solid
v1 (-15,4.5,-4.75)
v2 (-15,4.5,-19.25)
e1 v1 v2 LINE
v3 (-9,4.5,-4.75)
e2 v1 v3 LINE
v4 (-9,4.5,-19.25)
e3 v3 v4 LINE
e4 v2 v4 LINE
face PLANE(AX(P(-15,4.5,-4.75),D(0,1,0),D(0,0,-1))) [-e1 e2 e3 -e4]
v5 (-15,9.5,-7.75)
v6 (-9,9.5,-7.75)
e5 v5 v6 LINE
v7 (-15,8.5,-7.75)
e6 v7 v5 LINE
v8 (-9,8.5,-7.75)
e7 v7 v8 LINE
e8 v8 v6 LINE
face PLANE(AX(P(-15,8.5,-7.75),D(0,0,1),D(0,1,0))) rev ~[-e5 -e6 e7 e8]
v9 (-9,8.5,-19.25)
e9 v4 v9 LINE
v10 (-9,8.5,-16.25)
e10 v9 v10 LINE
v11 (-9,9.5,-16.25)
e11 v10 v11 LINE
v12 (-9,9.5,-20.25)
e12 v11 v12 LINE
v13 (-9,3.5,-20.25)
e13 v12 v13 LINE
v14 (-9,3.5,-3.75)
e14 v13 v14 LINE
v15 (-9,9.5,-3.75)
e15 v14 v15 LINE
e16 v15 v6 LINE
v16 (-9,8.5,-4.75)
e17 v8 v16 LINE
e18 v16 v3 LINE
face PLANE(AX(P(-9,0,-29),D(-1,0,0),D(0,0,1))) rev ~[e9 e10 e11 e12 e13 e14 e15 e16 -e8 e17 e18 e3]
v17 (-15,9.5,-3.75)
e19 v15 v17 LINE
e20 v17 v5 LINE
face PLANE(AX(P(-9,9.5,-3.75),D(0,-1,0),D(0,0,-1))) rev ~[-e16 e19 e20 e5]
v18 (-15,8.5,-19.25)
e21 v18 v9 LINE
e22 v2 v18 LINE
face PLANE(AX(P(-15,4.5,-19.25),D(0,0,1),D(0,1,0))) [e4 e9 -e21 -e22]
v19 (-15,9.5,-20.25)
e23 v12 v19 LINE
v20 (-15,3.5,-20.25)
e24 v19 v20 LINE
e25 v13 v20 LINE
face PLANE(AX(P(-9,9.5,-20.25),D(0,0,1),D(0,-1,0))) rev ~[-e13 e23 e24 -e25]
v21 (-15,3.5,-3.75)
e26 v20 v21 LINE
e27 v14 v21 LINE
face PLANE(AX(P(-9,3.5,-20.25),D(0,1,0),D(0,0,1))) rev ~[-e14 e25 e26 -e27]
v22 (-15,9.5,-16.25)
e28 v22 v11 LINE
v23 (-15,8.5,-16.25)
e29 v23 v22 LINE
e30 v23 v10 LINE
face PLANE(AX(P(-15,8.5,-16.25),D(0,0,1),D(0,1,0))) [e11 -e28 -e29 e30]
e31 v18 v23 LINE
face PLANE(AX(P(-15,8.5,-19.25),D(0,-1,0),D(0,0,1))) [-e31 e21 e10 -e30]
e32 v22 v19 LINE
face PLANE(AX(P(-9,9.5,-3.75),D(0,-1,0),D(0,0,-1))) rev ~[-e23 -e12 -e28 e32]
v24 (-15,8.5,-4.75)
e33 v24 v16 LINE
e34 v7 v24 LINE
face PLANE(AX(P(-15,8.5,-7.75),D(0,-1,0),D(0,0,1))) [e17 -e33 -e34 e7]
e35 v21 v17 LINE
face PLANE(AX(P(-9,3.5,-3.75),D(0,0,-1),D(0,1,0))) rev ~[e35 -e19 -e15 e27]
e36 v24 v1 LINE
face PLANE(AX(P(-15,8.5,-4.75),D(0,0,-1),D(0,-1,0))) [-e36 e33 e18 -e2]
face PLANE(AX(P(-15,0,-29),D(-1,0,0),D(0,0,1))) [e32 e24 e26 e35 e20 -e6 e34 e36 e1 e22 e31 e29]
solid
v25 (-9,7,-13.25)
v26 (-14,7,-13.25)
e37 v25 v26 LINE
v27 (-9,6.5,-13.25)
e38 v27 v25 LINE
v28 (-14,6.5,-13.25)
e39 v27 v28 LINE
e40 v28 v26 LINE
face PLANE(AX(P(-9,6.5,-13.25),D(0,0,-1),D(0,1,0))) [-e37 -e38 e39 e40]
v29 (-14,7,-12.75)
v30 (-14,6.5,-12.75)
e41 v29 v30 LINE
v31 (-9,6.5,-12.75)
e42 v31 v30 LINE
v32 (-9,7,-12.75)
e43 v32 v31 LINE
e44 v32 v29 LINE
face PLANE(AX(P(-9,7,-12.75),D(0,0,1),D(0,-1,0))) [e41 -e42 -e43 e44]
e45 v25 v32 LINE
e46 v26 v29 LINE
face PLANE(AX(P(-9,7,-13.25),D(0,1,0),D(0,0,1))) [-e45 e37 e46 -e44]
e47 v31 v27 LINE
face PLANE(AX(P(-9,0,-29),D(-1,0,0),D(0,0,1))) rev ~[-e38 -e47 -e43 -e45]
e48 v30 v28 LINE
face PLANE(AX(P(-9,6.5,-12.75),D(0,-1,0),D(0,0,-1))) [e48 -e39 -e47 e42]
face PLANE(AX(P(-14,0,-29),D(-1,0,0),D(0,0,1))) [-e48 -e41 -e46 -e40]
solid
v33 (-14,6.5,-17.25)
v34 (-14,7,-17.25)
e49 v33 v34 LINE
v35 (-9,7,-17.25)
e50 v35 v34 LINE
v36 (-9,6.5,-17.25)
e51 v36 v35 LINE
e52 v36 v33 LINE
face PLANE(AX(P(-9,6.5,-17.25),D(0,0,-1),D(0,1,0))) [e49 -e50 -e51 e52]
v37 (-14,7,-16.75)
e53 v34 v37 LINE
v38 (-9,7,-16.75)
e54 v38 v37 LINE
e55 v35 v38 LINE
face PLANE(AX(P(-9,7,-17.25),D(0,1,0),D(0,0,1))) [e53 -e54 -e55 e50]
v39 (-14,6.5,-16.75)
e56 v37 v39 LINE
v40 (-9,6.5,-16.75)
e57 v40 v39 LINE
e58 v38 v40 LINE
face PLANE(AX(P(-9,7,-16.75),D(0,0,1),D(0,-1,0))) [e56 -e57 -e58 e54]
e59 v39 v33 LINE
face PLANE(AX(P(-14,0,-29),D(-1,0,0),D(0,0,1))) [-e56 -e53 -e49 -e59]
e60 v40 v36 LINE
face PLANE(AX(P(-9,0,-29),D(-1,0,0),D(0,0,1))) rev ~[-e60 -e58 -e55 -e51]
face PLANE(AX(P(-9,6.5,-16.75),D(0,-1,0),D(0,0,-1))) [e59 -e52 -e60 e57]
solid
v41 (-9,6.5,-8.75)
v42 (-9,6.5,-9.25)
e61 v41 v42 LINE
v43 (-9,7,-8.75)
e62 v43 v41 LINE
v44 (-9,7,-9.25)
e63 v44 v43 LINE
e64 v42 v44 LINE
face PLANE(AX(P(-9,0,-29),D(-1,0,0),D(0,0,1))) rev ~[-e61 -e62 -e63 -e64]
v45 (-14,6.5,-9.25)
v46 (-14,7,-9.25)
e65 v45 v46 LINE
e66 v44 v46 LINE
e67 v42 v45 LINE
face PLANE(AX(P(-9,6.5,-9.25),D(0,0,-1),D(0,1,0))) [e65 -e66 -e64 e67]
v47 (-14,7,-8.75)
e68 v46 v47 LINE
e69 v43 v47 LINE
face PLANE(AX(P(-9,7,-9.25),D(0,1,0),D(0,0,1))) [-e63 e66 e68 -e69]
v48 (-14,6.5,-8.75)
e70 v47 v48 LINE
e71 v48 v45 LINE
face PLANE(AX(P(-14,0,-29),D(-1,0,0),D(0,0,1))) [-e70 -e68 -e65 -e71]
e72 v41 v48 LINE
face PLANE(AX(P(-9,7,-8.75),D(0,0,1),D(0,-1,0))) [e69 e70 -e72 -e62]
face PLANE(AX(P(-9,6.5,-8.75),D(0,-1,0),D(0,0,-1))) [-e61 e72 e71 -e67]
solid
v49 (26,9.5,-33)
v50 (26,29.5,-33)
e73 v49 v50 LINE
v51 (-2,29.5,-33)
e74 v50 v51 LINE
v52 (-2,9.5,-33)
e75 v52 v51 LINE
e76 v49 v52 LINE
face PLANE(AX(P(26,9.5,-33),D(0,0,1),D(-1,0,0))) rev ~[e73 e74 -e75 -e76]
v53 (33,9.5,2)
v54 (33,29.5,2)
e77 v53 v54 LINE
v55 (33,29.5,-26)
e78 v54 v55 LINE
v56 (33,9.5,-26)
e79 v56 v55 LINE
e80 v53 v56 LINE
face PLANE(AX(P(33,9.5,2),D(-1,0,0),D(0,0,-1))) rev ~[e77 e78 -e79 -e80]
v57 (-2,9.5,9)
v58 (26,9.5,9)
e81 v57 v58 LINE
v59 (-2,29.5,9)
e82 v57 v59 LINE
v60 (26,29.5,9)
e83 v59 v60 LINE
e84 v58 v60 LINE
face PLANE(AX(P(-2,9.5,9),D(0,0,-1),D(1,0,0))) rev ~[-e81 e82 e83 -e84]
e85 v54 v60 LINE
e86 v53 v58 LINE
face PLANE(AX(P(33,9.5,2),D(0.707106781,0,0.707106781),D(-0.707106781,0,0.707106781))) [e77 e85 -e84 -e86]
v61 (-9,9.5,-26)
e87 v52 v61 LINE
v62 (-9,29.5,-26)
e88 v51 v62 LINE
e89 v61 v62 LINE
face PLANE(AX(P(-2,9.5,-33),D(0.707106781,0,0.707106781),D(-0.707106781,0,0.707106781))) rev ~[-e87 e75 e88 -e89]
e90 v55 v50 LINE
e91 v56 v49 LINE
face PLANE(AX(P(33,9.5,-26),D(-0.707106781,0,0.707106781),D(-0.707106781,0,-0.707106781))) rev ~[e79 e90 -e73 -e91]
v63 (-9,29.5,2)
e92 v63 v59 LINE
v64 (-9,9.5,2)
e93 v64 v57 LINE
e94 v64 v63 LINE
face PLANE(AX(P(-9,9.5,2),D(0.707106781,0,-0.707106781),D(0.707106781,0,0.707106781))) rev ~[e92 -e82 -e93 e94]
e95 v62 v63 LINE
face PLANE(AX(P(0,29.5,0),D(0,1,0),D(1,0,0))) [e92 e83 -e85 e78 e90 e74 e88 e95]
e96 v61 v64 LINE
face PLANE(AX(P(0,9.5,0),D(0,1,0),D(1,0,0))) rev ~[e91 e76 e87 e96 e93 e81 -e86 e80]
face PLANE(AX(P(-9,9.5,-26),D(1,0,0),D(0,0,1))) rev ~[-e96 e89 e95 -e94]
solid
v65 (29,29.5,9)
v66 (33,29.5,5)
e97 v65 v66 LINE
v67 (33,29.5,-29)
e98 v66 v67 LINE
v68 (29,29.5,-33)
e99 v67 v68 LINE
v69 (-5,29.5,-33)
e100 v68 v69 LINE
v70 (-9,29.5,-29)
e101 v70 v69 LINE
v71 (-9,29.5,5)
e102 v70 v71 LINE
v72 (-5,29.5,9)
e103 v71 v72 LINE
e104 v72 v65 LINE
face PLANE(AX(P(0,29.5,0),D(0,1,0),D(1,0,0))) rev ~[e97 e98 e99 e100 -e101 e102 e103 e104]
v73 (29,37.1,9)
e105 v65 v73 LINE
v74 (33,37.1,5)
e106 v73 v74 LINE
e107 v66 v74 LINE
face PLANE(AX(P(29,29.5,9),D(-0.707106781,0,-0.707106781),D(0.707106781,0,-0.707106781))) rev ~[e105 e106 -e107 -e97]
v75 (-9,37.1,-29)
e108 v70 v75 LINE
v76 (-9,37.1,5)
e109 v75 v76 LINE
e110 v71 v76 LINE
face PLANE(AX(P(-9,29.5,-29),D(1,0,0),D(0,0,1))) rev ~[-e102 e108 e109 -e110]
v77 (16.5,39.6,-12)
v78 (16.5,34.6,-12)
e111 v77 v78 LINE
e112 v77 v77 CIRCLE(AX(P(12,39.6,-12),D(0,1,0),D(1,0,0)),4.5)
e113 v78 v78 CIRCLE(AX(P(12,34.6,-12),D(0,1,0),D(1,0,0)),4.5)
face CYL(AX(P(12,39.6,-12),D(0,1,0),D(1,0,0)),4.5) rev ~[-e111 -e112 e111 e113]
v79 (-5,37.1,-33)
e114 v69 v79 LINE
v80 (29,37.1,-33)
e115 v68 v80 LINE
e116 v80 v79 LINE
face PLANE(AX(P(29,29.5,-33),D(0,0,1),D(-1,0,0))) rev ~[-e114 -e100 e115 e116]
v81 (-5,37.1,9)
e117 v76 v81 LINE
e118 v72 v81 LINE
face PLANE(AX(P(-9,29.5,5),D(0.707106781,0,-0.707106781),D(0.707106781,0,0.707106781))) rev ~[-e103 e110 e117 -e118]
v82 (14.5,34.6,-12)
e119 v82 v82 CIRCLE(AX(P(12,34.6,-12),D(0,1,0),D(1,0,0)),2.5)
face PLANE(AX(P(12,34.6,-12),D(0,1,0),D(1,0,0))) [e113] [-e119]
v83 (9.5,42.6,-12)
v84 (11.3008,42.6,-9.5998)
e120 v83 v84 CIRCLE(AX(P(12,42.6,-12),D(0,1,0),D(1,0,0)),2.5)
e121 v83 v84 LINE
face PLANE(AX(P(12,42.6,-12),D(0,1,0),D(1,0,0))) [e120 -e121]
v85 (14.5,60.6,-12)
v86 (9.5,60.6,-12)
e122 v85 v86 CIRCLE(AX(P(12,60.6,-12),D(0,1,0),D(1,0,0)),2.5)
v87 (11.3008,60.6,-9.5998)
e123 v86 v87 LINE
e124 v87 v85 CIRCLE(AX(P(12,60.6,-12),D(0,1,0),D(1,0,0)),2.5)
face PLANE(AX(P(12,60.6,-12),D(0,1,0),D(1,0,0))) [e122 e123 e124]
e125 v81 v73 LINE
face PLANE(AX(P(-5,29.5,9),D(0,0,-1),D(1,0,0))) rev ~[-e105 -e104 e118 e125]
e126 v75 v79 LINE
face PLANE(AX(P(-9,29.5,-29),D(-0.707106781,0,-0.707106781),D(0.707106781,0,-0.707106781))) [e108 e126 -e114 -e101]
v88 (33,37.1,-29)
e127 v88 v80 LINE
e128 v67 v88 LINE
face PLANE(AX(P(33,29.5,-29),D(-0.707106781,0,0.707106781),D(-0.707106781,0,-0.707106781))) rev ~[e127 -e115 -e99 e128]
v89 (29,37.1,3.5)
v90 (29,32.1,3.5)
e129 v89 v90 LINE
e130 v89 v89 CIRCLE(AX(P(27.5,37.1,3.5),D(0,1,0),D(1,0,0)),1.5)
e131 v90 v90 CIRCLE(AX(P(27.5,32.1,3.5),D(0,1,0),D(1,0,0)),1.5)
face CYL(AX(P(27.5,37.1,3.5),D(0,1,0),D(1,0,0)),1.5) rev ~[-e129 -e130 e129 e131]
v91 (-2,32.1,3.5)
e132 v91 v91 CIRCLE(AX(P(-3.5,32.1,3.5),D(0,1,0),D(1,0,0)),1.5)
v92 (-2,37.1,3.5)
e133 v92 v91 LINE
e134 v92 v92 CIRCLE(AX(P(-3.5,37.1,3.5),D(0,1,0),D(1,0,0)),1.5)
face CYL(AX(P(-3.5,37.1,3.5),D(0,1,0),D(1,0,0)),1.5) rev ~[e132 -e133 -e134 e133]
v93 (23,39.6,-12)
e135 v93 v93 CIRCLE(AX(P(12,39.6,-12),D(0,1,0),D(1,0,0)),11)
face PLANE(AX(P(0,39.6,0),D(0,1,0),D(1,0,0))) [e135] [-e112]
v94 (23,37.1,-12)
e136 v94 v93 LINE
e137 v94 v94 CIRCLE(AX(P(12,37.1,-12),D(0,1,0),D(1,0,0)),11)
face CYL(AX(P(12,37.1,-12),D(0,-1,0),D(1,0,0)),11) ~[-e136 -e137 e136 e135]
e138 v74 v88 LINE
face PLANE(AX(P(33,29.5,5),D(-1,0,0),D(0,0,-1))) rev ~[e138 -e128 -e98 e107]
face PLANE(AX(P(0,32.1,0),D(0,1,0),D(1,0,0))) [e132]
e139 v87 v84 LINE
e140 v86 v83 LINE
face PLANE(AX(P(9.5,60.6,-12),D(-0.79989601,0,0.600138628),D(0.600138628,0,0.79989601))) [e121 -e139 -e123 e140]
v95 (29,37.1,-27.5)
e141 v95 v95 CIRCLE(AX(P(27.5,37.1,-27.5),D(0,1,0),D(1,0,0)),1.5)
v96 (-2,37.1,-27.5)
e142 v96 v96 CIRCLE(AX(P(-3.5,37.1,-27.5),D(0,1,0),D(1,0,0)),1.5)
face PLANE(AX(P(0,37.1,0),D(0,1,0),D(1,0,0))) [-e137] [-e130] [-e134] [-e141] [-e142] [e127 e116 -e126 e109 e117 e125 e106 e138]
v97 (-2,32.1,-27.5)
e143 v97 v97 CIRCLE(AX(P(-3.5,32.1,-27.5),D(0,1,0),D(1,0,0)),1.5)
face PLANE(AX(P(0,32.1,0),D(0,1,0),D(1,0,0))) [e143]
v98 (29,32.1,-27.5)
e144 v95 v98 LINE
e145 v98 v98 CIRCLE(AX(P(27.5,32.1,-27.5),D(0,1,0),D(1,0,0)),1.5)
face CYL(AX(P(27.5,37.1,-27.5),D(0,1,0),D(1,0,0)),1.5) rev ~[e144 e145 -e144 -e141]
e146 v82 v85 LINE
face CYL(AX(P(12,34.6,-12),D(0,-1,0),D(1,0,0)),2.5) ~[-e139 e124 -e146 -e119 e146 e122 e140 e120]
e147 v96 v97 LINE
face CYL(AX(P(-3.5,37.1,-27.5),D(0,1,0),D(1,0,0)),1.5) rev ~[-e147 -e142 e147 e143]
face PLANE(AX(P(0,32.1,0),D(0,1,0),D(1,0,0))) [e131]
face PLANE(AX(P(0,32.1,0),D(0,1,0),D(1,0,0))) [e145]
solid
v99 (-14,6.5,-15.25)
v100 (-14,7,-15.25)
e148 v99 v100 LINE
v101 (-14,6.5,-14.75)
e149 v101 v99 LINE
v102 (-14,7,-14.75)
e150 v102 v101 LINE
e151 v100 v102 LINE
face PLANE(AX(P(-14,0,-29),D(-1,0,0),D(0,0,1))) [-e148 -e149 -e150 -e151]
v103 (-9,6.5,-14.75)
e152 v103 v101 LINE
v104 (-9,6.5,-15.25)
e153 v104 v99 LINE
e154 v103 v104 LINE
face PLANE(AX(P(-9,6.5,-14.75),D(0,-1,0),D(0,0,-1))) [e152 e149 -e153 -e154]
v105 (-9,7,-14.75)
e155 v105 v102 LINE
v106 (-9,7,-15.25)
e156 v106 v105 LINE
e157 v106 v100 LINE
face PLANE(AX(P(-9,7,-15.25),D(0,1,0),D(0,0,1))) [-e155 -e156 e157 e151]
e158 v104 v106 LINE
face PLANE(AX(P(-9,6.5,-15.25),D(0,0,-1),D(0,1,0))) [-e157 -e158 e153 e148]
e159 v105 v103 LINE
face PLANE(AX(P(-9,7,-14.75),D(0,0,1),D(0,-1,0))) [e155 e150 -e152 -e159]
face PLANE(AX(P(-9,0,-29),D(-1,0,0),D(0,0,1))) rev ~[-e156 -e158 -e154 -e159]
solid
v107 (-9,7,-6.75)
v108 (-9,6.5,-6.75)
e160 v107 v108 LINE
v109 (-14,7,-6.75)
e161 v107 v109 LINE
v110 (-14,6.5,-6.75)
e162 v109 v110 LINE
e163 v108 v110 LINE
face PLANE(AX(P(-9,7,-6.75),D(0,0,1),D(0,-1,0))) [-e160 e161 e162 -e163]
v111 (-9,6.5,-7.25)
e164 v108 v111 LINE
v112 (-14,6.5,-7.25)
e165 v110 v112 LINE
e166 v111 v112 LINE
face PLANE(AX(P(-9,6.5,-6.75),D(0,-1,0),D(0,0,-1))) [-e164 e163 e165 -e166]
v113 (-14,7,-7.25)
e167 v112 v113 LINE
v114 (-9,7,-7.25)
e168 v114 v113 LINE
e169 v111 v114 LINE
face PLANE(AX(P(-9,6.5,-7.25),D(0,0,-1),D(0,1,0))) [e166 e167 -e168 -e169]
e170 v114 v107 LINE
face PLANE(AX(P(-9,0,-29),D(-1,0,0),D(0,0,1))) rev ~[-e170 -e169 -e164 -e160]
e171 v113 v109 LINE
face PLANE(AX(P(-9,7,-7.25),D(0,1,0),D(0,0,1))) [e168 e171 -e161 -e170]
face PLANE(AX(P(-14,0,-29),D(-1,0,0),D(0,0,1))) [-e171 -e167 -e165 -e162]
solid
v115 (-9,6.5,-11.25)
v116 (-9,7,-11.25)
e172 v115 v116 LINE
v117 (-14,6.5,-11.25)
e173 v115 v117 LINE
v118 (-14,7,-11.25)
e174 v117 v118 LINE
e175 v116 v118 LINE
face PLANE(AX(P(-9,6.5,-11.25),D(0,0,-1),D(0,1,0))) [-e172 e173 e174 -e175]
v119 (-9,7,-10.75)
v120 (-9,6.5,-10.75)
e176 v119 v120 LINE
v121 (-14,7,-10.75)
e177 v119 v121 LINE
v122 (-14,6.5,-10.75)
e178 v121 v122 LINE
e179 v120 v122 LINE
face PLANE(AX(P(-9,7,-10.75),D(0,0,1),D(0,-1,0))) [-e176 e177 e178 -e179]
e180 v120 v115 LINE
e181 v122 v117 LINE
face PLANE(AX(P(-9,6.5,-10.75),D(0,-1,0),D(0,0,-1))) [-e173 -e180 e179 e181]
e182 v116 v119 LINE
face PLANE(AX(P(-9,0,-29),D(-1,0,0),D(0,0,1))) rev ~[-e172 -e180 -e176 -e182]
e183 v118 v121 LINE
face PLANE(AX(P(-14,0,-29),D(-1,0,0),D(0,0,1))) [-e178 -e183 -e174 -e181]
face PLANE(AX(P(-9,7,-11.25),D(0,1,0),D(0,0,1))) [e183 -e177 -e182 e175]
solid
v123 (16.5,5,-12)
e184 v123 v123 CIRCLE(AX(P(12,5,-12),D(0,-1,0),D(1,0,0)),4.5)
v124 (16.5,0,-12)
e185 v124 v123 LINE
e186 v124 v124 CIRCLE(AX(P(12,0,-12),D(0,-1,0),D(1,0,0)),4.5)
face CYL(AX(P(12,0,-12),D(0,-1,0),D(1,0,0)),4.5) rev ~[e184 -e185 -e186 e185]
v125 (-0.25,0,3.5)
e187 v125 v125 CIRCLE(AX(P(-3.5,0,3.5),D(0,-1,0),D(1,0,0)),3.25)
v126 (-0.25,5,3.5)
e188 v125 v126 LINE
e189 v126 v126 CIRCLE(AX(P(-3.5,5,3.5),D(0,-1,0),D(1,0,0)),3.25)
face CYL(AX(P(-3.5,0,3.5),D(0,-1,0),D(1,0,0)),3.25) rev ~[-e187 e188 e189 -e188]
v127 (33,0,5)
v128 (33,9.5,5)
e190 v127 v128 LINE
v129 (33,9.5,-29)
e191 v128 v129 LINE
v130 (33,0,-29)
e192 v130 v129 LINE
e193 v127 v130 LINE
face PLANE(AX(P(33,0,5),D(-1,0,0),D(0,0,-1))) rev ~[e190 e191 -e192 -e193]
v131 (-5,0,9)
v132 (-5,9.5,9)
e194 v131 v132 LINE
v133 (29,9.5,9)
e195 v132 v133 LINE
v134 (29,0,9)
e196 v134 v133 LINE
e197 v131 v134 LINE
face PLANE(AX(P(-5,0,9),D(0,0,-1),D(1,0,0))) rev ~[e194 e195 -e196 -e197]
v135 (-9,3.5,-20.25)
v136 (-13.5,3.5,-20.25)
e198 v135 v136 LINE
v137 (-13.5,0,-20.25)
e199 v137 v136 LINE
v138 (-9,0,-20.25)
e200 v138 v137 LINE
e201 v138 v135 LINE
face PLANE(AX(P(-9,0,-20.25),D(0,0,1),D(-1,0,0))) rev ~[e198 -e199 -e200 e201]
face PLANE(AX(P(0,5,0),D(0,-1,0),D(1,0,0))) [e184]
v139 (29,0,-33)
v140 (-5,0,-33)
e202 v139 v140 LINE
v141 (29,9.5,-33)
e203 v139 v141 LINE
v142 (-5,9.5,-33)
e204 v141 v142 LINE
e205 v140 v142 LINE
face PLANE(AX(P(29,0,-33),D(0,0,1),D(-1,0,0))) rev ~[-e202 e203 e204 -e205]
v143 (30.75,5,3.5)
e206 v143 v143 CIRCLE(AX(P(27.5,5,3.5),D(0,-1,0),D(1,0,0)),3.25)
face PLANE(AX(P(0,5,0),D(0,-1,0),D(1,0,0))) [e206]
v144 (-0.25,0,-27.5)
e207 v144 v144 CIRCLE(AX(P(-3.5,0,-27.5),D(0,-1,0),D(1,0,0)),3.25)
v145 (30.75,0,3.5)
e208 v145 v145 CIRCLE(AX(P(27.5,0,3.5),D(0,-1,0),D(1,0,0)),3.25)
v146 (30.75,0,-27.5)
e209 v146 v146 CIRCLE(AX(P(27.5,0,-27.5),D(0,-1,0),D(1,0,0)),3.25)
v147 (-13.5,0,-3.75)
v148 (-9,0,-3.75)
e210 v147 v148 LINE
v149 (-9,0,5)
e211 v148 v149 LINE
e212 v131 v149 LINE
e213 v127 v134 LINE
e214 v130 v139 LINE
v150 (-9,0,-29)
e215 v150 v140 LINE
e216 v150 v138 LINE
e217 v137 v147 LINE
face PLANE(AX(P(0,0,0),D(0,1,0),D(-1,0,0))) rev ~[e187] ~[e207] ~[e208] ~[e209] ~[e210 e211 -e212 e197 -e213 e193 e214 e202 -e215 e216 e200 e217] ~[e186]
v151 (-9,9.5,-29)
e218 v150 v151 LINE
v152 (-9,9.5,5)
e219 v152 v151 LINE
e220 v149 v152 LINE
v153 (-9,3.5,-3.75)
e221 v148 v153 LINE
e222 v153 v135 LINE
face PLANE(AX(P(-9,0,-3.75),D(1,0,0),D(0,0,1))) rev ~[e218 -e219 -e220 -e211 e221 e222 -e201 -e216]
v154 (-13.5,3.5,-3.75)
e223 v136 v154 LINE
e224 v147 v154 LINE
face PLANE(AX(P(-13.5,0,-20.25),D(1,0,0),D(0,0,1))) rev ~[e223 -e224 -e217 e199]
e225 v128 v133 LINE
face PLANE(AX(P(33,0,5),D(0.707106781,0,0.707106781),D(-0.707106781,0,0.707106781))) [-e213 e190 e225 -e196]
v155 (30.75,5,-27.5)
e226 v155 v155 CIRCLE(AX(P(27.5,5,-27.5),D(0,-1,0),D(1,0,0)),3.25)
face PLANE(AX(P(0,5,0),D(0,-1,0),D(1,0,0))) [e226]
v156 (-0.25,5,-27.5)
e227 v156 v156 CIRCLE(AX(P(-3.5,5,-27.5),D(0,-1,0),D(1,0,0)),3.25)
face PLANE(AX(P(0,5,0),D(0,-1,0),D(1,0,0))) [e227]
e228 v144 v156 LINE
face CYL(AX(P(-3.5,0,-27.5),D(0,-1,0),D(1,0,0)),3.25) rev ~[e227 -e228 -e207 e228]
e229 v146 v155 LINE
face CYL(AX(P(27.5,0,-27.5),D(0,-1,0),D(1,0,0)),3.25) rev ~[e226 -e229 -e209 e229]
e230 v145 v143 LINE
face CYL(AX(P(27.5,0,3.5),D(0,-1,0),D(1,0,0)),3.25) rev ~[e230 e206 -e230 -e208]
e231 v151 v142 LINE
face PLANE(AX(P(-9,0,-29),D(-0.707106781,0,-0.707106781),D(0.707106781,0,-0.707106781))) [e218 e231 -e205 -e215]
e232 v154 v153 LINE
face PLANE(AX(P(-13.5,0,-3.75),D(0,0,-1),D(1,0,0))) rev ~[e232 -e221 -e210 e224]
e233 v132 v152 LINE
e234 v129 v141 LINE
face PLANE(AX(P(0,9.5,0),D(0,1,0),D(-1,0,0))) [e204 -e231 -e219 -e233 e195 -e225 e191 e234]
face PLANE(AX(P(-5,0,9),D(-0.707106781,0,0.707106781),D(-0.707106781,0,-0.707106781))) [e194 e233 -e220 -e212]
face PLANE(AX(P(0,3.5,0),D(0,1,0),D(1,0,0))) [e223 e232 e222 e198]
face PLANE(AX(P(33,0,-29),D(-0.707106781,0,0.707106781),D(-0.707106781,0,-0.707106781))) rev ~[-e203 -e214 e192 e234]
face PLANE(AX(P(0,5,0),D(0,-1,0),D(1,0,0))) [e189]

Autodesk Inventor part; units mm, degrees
ref_plane "YZ Plane" through (0, 0, 0) normal (1, 0, 0) x (0, 1, 0)
ref_plane "XZ Plane" through (0, 0, 0) normal (0, 1, 0) x (-1, 0, 0)
ref_plane "XY Plane" through (0, 0, 0) normal (0, 0, 1) x (1, 0, 0)
sketch "Эскиз1" plane through (0, 0, 0) normal (0, 1, 0) x (-1, 0, 0)
  line L0 (9, 9) -> (-33, 9)
  line L1 (-33, 9) -> (-33, -33)
  line L2 (-33, -33) -> (9, -33)
  line L3 (9, -33) -> (9, 9)
  line L4 (9, -29) -> (5, -33)
  line L5 (9, 9) -> (-33, -33) construction
  line L6 (9, -33) -> (-33, 9) construction
  line L7 (5, 9) -> (9, 5)
  line L8 (-33, 5) -> (-29, 9)
  line L9 (-33, -29) -> (-29, -33)
  line L10 (13.5, -3.75) -> (9, -3.75)
  line L11 (9, -20.25) -> (13.5, -20.25)
  line L12 (13.5, -20.25) -> (13.5, -3.75)
  point P0 (0, 0)
  dimension "d0" = 42
  dimension "d1" = 42
  dimension "d2" = 4
  dimension "d3" = 4
  dimension "d17" = 12.75
  dimension "d18" = 16.5
  dimension "d19" = 4.5
extrude "Выдавливание1" add sketch "Эскиз1" along normal blind 9.5 contours L7 L3 L4 L2 L9 L1 L8 L0 | L10 L12 L11 L3
sketch "Эскиз2" plane through (0, 0, 0) normal (0, -1, 0) x (1, 0, 0)
  line L0 (-9, -33) -> (33, -33)
  line L1 (33, -33) -> (33, 9)
  line L2 (33, 9) -> (-9, 9)
  line L3 (-9, 9) -> (-9, -33)
  line L4 (-9, -33) -> (33, 9) construction
  line L5 (33, -33) -> (-9, 9) construction
  circle A0 centre (12, -12) radius 4.5
  circle A1 centre (-3.5, -27.5) radius 3.25
  circle A2 centre (-3.5, 3.5) radius 3.25
  circle A3 centre (27.5, 3.5) radius 3.25
  circle A4 centre (27.5, -27.5) radius 3.25
  line L6 (33, 5) -> (33, -29) projected
  line L7 (-5, 9) -> (29, 9) projected
  line L8 (29, -33) -> (-5, -33) projected
  line L9 (-9, -3.75) -> (-9, 5) projected
  point P0 (0, 0)
  dimension "d22" = 9
  dimension "d23" = 6.5
  dimension "d25" = 5.5
  dimension "d28" = 360
extrude "Выдавливание2" cut sketch "Эскиз2" against normal blind 5 contours A0 | A1 | A2 | A3 | A4
sketch "Эскиз3" plane through (0, 9.5, 0) normal (0, 1, 0) x (1, 0, 0)
  line L0 (-13.5, 3.75) -> (-9, 3.75) projected
  line L1 (-13.5, 3.75) -> (-9, 3.75)
  line L2 (-9, 3.75) -> (-9, 20.25)
  line L3 (-9, 20.25) -> (-13.5, 20.25)
  line L4 (-13.5, 20.25) -> (-13.5, 3.75)
  point P0 (0, 0)
extrude "Выдавливание3" cut sketch "Эскиз3" against normal blind 6
sketch "Эскиз4" plane through (-9, 0, -29) normal (-1, 0, 0) x (0, 0, 1)
  line L0 (8.75, 3.5) -> (25.25, 3.5) projected
  line L1 (8.75, 3.5) -> (25.25, 3.5)
  line L2 (25.25, 3.5) -> (25.25, 9.5)
  line L3 (25.25, 9.5) -> (8.75, 9.5)
  line L4 (8.75, 9.5) -> (8.75, 3.5)
  point P0 (29, 0)
  dimension "d34" = 16.5
  dimension "d35" = 6
extrude "Выдавливание4" add sketch "Эскиз4" along normal blind 6 separate body
sketch "Эскиз5" plane through (-15, 0, -29) normal (-1, 0, 0) x (0, 0, 1)
  line L0 (25.25, 9.5) -> (8.75, 9.5) projected
  line L1 (25.25, 3.5) -> (8.75, 3.5) projected
  line L2 (8.75, 9.5) -> (25.25, 9.5)
  line L3 (25.25, 9.5) -> (25.25, 3.5)
  line L4 (25.25, 3.5) -> (8.75, 3.5)
  line L5 (8.75, 3.5) -> (8.75, 9.5)
  line L6 (9.75, 8.5) -> (12.75, 8.5)
  line L7 (24.25, 8.5) -> (24.25, 4.5)
  line L8 (24.25, 4.5) -> (9.75, 4.5)
  line L9 (9.75, 4.5) -> (9.75, 8.5)
  line L10 (12.75, 8.5) -> (12.75, 9.5)
  line L11 (21.25, 8.5) -> (21.25, 9.5)
  line L12 (0, 9.5) -> (34, 9.5) projected
  line L13 (21.25, 8.5) -> (24.25, 8.5)
  point P0 (29, 0)
  dimension "d38" = 1
  dimension "d39" = 4
  dimension "d40" = 4
extrude "Выдавливание5" cut sketch "Эскиз5" against normal blind 6 contours L11 L13 L7 L8 L9 L6 L10 L0 bodies 2
sketch "Эскиз6" plane through (-9, 0, -29) normal (-1, 0, 0) x (0, 0, 1)
  line L0 (11.75, 7) -> (12.25, 7)
  line L1 (12.25, 7) -> (12.25, 6.5)
  line L2 (12.25, 6.5) -> (11.75, 6.5)
  line L3 (11.75, 6.5) -> (11.75, 7)
  line L4 (13.75, 7) -> (14.25, 7)
  line L5 (14.25, 7) -> (14.25, 6.5)
  line L6 (14.25, 6.5) -> (13.75, 6.5)
  line L7 (13.75, 6.5) -> (13.75, 7)
  line L8 (15.75, 7) -> (16.25, 7)
  line L9 (16.25, 7) -> (16.25, 6.5)
  line L10 (16.25, 6.5) -> (15.75, 6.5)
  line L11 (15.75, 6.5) -> (15.75, 7)
  line L12 (17.75, 7) -> (18.25, 7)
  line L13 (18.25, 7) -> (18.25, 6.5)
  line L14 (18.25, 6.5) -> (17.75, 6.5)
  line L15 (17.75, 6.5) -> (17.75, 7)
  line L16 (19.75, 7) -> (20.25, 7)
  line L17 (20.25, 7) -> (20.25, 6.5)
  line L18 (20.25, 6.5) -> (19.75, 6.5)
  line L19 (19.75, 6.5) -> (19.75, 7)
  line L20 (21.75, 7) -> (22.25, 7)
  line L21 (22.25, 7) -> (22.25, 6.5)
  line L22 (22.25, 6.5) -> (21.75, 6.5)
  line L23 (21.75, 6.5) -> (21.75, 7)
  line L24 (8.75, 0) -> (8.75, 3.5) projected
  point P0 (29, 0)
  dimension "d43" = 0.5
  dimension "d44" = 0.5
  dimension "d47" = 2
  dimension "d52" = 3
extrude "Выдавливание6" add sketch "Эскиз6" along normal blind 5 separate body
sketch "Эскиз7" plane through (0, 9.5, 0) normal (0, 1, 0) x (1, 0, 0)
  line L0 (33, 33) -> (-9, 33)
  line L1 (-9, 33) -> (-9, -9)
  line L2 (-9, -9) -> (33, -9)
  line L3 (33, -9) -> (33, 33)
  line L4 (33, -2) -> (26, -9)
  line L5 (33, -5) -> (33, 29) projected
  line L6 (-5, -9) -> (29, -9) projected
  line L7 (-9, 29) -> (-9, -5) projected
  line L8 (-9, -2) -> (-2, -9)
  line L9 (-2, 33) -> (-9, 26)
  line L10 (33, 26) -> (26, 33)
  line L11 (29, 33) -> (-5, 33) projected
  point P0 (0, 0)
  point P1 (33, 12)
  point P2 (12, -9)
  point P3 (-2, -9)
  dimension "d56" = 7
  dimension "d57" = 42
  dimension "d58" = 42
  dimension "d59" = 7
extrude "Выдавливание7" add sketch "Эскиз7" along normal blind 20 separate body contours L10 L3 L4 L2 L8 L1 L9 L0
sketch "Эскиз8" plane through (0, 29.5, 0) normal (0, 1, 0) x (1, 0, 0)
  line L0 (33, 33) -> (-9, 33)
  line L1 (-9, 33) -> (-9, -9)
  line L2 (-9, -9) -> (33, -9)
  line L3 (33, -9) -> (33, 33)
  line L4 (33, 29) -> (29, 33)
  line L5 (29, -9) -> (33, -5)
  line L6 (-9, -5) -> (-5, -9)
  line L7 (-9, 29) -> (-5, 33)
  point P0 (0, 0)
  dimension "d62" = 42
  dimension "d63" = 42
  dimension "d64" = 4
  dimension "d65" = 4
extrude "Выдавливание8" add sketch "Эскиз8" along normal blind 7.6 contours L4 L3 L5 L2 L6 L1 L7 L0 bodies 1
sketch "Эскиз9" plane through (0, 37.1, 0) normal (0, 1, 0) x (1, 0, 0)
  line L0 (33, -9) -> (-9, -9)
  line L1 (-9, -9) -> (-9, 33)
  line L2 (-9, 33) -> (33, 33)
  line L3 (33, 33) -> (33, -9)
  line L4 (33, -9) -> (-9, 33) construction
  line L5 (-9, -9) -> (33, 33) construction
  circle A0 centre (12, 12) radius 11
  point P0 (0, 0)
  dimension "d68" = 42
  dimension "d69" = 42
  dimension "d70" = 22
extrude "Выдавливание9" add sketch "Эскиз9" along normal blind 2.5 contours A0 bodies 1
sketch "Эскиз10" plane through (12, 39.6, -12) normal (0, 1, 0) x (1, 0, 0)
  circle A0 centre (0, 0) radius 11 projected
  circle A1 centre (0, 0) radius 4.5
  point P0 (-12, -12)
  dimension "d73" = 9
extrude "Выдавливание10" cut sketch "Эскиз10" against normal blind 5 contours A1 bodies 1
sketch "Эскиз11" plane through (12, 34.6, -12) normal (0, 1, 0) x (1, 0, 0)
  circle A0 centre (0, 0) radius 4.5 projected
  circle A1 centre (0, 0) radius 2.5
  point P0 (-12, -12)
  dimension "d76" = 5
extrude "Выдавливание11" add sketch "Эскиз11" along normal blind 26 contours A1 bodies 1
sketch "Эскиз12" plane through (12, 60.6, -12) normal (0, 1, 0) x (1, 0, 0)
  circle A0 centre (0, 0) radius 2.5 projected
  line L0 (-2.5, 0) -> (-0.6992, -2.4002)
  circle A1 centre (0, 0) radius 2.5
  point P0 (-12, -12)
extrude "Выдавливание12" cut sketch "Эскиз12" against normal blind 18 contours L0 A0 picked at (-1.8806, -0.9775) bodies 1
sketch "Эскиз13" plane through (0, 37.1, 0) normal (0, 1, 0) x (1, 0, 0)
  line L0 (-9, -9) -> (33, -9)
  line L1 (33, -9) -> (33, 33)
  line L2 (33, 33) -> (-9, 33)
  line L3 (-9, 33) -> (-9, -9)
  circle A0 centre (27.5, 27.5) radius 1.5
  circle A1 centre (-3.5, -3.5) radius 1.5
  line L4 (-9, 29) -> (-9, -5) projected
  line L5 (-9, 27.5) -> (33, 27.5) construction
  line L6 (33, -5) -> (33, 29) projected
  line L7 (29, 33) -> (-5, 33) projected
  line L8 (27.5, 33) -> (27.5, -9) construction
  line L9 (-5, -9) -> (29, -9) projected
  line L10 (-9, -3.5) -> (33, -3.5) construction
  line L11 (33, -5) -> (33, 29) projected
  line L12 (-3.5, -9) -> (-3.5, 33) construction
  line L13 (29, 33) -> (-5, 33) projected
  circle A2 centre (-3.5, 27.5) radius 1.5
  circle A3 centre (27.5, -3.5) radius 1.5
  point P0 (0, 0)
  dimension "d81" = 42
  dimension "d82" = 42
  dimension "d85" = 3
  dimension "d86" = 3
  dimension "d89" = 5.5
  dimension "d90" = 5.5
  dimension "d91" = 5.5
  dimension "d92" = 5.5
  dimension "d93" = 3
  dimension "d94" = 3
extrude "Выдавливание13" cut sketch "Эскиз13" against normal blind 5 contours A0 | A1 | A2 | A3 bodies 1
equation "\"d85\" = d93"
equation "\"d86\" = d93"
equation "\"d90\" = d89"
equation "\"d91\" = d89"
equation "\"d92\" = d89"
equation "\"d94\" = d93"
properties part number "Nema-17"
